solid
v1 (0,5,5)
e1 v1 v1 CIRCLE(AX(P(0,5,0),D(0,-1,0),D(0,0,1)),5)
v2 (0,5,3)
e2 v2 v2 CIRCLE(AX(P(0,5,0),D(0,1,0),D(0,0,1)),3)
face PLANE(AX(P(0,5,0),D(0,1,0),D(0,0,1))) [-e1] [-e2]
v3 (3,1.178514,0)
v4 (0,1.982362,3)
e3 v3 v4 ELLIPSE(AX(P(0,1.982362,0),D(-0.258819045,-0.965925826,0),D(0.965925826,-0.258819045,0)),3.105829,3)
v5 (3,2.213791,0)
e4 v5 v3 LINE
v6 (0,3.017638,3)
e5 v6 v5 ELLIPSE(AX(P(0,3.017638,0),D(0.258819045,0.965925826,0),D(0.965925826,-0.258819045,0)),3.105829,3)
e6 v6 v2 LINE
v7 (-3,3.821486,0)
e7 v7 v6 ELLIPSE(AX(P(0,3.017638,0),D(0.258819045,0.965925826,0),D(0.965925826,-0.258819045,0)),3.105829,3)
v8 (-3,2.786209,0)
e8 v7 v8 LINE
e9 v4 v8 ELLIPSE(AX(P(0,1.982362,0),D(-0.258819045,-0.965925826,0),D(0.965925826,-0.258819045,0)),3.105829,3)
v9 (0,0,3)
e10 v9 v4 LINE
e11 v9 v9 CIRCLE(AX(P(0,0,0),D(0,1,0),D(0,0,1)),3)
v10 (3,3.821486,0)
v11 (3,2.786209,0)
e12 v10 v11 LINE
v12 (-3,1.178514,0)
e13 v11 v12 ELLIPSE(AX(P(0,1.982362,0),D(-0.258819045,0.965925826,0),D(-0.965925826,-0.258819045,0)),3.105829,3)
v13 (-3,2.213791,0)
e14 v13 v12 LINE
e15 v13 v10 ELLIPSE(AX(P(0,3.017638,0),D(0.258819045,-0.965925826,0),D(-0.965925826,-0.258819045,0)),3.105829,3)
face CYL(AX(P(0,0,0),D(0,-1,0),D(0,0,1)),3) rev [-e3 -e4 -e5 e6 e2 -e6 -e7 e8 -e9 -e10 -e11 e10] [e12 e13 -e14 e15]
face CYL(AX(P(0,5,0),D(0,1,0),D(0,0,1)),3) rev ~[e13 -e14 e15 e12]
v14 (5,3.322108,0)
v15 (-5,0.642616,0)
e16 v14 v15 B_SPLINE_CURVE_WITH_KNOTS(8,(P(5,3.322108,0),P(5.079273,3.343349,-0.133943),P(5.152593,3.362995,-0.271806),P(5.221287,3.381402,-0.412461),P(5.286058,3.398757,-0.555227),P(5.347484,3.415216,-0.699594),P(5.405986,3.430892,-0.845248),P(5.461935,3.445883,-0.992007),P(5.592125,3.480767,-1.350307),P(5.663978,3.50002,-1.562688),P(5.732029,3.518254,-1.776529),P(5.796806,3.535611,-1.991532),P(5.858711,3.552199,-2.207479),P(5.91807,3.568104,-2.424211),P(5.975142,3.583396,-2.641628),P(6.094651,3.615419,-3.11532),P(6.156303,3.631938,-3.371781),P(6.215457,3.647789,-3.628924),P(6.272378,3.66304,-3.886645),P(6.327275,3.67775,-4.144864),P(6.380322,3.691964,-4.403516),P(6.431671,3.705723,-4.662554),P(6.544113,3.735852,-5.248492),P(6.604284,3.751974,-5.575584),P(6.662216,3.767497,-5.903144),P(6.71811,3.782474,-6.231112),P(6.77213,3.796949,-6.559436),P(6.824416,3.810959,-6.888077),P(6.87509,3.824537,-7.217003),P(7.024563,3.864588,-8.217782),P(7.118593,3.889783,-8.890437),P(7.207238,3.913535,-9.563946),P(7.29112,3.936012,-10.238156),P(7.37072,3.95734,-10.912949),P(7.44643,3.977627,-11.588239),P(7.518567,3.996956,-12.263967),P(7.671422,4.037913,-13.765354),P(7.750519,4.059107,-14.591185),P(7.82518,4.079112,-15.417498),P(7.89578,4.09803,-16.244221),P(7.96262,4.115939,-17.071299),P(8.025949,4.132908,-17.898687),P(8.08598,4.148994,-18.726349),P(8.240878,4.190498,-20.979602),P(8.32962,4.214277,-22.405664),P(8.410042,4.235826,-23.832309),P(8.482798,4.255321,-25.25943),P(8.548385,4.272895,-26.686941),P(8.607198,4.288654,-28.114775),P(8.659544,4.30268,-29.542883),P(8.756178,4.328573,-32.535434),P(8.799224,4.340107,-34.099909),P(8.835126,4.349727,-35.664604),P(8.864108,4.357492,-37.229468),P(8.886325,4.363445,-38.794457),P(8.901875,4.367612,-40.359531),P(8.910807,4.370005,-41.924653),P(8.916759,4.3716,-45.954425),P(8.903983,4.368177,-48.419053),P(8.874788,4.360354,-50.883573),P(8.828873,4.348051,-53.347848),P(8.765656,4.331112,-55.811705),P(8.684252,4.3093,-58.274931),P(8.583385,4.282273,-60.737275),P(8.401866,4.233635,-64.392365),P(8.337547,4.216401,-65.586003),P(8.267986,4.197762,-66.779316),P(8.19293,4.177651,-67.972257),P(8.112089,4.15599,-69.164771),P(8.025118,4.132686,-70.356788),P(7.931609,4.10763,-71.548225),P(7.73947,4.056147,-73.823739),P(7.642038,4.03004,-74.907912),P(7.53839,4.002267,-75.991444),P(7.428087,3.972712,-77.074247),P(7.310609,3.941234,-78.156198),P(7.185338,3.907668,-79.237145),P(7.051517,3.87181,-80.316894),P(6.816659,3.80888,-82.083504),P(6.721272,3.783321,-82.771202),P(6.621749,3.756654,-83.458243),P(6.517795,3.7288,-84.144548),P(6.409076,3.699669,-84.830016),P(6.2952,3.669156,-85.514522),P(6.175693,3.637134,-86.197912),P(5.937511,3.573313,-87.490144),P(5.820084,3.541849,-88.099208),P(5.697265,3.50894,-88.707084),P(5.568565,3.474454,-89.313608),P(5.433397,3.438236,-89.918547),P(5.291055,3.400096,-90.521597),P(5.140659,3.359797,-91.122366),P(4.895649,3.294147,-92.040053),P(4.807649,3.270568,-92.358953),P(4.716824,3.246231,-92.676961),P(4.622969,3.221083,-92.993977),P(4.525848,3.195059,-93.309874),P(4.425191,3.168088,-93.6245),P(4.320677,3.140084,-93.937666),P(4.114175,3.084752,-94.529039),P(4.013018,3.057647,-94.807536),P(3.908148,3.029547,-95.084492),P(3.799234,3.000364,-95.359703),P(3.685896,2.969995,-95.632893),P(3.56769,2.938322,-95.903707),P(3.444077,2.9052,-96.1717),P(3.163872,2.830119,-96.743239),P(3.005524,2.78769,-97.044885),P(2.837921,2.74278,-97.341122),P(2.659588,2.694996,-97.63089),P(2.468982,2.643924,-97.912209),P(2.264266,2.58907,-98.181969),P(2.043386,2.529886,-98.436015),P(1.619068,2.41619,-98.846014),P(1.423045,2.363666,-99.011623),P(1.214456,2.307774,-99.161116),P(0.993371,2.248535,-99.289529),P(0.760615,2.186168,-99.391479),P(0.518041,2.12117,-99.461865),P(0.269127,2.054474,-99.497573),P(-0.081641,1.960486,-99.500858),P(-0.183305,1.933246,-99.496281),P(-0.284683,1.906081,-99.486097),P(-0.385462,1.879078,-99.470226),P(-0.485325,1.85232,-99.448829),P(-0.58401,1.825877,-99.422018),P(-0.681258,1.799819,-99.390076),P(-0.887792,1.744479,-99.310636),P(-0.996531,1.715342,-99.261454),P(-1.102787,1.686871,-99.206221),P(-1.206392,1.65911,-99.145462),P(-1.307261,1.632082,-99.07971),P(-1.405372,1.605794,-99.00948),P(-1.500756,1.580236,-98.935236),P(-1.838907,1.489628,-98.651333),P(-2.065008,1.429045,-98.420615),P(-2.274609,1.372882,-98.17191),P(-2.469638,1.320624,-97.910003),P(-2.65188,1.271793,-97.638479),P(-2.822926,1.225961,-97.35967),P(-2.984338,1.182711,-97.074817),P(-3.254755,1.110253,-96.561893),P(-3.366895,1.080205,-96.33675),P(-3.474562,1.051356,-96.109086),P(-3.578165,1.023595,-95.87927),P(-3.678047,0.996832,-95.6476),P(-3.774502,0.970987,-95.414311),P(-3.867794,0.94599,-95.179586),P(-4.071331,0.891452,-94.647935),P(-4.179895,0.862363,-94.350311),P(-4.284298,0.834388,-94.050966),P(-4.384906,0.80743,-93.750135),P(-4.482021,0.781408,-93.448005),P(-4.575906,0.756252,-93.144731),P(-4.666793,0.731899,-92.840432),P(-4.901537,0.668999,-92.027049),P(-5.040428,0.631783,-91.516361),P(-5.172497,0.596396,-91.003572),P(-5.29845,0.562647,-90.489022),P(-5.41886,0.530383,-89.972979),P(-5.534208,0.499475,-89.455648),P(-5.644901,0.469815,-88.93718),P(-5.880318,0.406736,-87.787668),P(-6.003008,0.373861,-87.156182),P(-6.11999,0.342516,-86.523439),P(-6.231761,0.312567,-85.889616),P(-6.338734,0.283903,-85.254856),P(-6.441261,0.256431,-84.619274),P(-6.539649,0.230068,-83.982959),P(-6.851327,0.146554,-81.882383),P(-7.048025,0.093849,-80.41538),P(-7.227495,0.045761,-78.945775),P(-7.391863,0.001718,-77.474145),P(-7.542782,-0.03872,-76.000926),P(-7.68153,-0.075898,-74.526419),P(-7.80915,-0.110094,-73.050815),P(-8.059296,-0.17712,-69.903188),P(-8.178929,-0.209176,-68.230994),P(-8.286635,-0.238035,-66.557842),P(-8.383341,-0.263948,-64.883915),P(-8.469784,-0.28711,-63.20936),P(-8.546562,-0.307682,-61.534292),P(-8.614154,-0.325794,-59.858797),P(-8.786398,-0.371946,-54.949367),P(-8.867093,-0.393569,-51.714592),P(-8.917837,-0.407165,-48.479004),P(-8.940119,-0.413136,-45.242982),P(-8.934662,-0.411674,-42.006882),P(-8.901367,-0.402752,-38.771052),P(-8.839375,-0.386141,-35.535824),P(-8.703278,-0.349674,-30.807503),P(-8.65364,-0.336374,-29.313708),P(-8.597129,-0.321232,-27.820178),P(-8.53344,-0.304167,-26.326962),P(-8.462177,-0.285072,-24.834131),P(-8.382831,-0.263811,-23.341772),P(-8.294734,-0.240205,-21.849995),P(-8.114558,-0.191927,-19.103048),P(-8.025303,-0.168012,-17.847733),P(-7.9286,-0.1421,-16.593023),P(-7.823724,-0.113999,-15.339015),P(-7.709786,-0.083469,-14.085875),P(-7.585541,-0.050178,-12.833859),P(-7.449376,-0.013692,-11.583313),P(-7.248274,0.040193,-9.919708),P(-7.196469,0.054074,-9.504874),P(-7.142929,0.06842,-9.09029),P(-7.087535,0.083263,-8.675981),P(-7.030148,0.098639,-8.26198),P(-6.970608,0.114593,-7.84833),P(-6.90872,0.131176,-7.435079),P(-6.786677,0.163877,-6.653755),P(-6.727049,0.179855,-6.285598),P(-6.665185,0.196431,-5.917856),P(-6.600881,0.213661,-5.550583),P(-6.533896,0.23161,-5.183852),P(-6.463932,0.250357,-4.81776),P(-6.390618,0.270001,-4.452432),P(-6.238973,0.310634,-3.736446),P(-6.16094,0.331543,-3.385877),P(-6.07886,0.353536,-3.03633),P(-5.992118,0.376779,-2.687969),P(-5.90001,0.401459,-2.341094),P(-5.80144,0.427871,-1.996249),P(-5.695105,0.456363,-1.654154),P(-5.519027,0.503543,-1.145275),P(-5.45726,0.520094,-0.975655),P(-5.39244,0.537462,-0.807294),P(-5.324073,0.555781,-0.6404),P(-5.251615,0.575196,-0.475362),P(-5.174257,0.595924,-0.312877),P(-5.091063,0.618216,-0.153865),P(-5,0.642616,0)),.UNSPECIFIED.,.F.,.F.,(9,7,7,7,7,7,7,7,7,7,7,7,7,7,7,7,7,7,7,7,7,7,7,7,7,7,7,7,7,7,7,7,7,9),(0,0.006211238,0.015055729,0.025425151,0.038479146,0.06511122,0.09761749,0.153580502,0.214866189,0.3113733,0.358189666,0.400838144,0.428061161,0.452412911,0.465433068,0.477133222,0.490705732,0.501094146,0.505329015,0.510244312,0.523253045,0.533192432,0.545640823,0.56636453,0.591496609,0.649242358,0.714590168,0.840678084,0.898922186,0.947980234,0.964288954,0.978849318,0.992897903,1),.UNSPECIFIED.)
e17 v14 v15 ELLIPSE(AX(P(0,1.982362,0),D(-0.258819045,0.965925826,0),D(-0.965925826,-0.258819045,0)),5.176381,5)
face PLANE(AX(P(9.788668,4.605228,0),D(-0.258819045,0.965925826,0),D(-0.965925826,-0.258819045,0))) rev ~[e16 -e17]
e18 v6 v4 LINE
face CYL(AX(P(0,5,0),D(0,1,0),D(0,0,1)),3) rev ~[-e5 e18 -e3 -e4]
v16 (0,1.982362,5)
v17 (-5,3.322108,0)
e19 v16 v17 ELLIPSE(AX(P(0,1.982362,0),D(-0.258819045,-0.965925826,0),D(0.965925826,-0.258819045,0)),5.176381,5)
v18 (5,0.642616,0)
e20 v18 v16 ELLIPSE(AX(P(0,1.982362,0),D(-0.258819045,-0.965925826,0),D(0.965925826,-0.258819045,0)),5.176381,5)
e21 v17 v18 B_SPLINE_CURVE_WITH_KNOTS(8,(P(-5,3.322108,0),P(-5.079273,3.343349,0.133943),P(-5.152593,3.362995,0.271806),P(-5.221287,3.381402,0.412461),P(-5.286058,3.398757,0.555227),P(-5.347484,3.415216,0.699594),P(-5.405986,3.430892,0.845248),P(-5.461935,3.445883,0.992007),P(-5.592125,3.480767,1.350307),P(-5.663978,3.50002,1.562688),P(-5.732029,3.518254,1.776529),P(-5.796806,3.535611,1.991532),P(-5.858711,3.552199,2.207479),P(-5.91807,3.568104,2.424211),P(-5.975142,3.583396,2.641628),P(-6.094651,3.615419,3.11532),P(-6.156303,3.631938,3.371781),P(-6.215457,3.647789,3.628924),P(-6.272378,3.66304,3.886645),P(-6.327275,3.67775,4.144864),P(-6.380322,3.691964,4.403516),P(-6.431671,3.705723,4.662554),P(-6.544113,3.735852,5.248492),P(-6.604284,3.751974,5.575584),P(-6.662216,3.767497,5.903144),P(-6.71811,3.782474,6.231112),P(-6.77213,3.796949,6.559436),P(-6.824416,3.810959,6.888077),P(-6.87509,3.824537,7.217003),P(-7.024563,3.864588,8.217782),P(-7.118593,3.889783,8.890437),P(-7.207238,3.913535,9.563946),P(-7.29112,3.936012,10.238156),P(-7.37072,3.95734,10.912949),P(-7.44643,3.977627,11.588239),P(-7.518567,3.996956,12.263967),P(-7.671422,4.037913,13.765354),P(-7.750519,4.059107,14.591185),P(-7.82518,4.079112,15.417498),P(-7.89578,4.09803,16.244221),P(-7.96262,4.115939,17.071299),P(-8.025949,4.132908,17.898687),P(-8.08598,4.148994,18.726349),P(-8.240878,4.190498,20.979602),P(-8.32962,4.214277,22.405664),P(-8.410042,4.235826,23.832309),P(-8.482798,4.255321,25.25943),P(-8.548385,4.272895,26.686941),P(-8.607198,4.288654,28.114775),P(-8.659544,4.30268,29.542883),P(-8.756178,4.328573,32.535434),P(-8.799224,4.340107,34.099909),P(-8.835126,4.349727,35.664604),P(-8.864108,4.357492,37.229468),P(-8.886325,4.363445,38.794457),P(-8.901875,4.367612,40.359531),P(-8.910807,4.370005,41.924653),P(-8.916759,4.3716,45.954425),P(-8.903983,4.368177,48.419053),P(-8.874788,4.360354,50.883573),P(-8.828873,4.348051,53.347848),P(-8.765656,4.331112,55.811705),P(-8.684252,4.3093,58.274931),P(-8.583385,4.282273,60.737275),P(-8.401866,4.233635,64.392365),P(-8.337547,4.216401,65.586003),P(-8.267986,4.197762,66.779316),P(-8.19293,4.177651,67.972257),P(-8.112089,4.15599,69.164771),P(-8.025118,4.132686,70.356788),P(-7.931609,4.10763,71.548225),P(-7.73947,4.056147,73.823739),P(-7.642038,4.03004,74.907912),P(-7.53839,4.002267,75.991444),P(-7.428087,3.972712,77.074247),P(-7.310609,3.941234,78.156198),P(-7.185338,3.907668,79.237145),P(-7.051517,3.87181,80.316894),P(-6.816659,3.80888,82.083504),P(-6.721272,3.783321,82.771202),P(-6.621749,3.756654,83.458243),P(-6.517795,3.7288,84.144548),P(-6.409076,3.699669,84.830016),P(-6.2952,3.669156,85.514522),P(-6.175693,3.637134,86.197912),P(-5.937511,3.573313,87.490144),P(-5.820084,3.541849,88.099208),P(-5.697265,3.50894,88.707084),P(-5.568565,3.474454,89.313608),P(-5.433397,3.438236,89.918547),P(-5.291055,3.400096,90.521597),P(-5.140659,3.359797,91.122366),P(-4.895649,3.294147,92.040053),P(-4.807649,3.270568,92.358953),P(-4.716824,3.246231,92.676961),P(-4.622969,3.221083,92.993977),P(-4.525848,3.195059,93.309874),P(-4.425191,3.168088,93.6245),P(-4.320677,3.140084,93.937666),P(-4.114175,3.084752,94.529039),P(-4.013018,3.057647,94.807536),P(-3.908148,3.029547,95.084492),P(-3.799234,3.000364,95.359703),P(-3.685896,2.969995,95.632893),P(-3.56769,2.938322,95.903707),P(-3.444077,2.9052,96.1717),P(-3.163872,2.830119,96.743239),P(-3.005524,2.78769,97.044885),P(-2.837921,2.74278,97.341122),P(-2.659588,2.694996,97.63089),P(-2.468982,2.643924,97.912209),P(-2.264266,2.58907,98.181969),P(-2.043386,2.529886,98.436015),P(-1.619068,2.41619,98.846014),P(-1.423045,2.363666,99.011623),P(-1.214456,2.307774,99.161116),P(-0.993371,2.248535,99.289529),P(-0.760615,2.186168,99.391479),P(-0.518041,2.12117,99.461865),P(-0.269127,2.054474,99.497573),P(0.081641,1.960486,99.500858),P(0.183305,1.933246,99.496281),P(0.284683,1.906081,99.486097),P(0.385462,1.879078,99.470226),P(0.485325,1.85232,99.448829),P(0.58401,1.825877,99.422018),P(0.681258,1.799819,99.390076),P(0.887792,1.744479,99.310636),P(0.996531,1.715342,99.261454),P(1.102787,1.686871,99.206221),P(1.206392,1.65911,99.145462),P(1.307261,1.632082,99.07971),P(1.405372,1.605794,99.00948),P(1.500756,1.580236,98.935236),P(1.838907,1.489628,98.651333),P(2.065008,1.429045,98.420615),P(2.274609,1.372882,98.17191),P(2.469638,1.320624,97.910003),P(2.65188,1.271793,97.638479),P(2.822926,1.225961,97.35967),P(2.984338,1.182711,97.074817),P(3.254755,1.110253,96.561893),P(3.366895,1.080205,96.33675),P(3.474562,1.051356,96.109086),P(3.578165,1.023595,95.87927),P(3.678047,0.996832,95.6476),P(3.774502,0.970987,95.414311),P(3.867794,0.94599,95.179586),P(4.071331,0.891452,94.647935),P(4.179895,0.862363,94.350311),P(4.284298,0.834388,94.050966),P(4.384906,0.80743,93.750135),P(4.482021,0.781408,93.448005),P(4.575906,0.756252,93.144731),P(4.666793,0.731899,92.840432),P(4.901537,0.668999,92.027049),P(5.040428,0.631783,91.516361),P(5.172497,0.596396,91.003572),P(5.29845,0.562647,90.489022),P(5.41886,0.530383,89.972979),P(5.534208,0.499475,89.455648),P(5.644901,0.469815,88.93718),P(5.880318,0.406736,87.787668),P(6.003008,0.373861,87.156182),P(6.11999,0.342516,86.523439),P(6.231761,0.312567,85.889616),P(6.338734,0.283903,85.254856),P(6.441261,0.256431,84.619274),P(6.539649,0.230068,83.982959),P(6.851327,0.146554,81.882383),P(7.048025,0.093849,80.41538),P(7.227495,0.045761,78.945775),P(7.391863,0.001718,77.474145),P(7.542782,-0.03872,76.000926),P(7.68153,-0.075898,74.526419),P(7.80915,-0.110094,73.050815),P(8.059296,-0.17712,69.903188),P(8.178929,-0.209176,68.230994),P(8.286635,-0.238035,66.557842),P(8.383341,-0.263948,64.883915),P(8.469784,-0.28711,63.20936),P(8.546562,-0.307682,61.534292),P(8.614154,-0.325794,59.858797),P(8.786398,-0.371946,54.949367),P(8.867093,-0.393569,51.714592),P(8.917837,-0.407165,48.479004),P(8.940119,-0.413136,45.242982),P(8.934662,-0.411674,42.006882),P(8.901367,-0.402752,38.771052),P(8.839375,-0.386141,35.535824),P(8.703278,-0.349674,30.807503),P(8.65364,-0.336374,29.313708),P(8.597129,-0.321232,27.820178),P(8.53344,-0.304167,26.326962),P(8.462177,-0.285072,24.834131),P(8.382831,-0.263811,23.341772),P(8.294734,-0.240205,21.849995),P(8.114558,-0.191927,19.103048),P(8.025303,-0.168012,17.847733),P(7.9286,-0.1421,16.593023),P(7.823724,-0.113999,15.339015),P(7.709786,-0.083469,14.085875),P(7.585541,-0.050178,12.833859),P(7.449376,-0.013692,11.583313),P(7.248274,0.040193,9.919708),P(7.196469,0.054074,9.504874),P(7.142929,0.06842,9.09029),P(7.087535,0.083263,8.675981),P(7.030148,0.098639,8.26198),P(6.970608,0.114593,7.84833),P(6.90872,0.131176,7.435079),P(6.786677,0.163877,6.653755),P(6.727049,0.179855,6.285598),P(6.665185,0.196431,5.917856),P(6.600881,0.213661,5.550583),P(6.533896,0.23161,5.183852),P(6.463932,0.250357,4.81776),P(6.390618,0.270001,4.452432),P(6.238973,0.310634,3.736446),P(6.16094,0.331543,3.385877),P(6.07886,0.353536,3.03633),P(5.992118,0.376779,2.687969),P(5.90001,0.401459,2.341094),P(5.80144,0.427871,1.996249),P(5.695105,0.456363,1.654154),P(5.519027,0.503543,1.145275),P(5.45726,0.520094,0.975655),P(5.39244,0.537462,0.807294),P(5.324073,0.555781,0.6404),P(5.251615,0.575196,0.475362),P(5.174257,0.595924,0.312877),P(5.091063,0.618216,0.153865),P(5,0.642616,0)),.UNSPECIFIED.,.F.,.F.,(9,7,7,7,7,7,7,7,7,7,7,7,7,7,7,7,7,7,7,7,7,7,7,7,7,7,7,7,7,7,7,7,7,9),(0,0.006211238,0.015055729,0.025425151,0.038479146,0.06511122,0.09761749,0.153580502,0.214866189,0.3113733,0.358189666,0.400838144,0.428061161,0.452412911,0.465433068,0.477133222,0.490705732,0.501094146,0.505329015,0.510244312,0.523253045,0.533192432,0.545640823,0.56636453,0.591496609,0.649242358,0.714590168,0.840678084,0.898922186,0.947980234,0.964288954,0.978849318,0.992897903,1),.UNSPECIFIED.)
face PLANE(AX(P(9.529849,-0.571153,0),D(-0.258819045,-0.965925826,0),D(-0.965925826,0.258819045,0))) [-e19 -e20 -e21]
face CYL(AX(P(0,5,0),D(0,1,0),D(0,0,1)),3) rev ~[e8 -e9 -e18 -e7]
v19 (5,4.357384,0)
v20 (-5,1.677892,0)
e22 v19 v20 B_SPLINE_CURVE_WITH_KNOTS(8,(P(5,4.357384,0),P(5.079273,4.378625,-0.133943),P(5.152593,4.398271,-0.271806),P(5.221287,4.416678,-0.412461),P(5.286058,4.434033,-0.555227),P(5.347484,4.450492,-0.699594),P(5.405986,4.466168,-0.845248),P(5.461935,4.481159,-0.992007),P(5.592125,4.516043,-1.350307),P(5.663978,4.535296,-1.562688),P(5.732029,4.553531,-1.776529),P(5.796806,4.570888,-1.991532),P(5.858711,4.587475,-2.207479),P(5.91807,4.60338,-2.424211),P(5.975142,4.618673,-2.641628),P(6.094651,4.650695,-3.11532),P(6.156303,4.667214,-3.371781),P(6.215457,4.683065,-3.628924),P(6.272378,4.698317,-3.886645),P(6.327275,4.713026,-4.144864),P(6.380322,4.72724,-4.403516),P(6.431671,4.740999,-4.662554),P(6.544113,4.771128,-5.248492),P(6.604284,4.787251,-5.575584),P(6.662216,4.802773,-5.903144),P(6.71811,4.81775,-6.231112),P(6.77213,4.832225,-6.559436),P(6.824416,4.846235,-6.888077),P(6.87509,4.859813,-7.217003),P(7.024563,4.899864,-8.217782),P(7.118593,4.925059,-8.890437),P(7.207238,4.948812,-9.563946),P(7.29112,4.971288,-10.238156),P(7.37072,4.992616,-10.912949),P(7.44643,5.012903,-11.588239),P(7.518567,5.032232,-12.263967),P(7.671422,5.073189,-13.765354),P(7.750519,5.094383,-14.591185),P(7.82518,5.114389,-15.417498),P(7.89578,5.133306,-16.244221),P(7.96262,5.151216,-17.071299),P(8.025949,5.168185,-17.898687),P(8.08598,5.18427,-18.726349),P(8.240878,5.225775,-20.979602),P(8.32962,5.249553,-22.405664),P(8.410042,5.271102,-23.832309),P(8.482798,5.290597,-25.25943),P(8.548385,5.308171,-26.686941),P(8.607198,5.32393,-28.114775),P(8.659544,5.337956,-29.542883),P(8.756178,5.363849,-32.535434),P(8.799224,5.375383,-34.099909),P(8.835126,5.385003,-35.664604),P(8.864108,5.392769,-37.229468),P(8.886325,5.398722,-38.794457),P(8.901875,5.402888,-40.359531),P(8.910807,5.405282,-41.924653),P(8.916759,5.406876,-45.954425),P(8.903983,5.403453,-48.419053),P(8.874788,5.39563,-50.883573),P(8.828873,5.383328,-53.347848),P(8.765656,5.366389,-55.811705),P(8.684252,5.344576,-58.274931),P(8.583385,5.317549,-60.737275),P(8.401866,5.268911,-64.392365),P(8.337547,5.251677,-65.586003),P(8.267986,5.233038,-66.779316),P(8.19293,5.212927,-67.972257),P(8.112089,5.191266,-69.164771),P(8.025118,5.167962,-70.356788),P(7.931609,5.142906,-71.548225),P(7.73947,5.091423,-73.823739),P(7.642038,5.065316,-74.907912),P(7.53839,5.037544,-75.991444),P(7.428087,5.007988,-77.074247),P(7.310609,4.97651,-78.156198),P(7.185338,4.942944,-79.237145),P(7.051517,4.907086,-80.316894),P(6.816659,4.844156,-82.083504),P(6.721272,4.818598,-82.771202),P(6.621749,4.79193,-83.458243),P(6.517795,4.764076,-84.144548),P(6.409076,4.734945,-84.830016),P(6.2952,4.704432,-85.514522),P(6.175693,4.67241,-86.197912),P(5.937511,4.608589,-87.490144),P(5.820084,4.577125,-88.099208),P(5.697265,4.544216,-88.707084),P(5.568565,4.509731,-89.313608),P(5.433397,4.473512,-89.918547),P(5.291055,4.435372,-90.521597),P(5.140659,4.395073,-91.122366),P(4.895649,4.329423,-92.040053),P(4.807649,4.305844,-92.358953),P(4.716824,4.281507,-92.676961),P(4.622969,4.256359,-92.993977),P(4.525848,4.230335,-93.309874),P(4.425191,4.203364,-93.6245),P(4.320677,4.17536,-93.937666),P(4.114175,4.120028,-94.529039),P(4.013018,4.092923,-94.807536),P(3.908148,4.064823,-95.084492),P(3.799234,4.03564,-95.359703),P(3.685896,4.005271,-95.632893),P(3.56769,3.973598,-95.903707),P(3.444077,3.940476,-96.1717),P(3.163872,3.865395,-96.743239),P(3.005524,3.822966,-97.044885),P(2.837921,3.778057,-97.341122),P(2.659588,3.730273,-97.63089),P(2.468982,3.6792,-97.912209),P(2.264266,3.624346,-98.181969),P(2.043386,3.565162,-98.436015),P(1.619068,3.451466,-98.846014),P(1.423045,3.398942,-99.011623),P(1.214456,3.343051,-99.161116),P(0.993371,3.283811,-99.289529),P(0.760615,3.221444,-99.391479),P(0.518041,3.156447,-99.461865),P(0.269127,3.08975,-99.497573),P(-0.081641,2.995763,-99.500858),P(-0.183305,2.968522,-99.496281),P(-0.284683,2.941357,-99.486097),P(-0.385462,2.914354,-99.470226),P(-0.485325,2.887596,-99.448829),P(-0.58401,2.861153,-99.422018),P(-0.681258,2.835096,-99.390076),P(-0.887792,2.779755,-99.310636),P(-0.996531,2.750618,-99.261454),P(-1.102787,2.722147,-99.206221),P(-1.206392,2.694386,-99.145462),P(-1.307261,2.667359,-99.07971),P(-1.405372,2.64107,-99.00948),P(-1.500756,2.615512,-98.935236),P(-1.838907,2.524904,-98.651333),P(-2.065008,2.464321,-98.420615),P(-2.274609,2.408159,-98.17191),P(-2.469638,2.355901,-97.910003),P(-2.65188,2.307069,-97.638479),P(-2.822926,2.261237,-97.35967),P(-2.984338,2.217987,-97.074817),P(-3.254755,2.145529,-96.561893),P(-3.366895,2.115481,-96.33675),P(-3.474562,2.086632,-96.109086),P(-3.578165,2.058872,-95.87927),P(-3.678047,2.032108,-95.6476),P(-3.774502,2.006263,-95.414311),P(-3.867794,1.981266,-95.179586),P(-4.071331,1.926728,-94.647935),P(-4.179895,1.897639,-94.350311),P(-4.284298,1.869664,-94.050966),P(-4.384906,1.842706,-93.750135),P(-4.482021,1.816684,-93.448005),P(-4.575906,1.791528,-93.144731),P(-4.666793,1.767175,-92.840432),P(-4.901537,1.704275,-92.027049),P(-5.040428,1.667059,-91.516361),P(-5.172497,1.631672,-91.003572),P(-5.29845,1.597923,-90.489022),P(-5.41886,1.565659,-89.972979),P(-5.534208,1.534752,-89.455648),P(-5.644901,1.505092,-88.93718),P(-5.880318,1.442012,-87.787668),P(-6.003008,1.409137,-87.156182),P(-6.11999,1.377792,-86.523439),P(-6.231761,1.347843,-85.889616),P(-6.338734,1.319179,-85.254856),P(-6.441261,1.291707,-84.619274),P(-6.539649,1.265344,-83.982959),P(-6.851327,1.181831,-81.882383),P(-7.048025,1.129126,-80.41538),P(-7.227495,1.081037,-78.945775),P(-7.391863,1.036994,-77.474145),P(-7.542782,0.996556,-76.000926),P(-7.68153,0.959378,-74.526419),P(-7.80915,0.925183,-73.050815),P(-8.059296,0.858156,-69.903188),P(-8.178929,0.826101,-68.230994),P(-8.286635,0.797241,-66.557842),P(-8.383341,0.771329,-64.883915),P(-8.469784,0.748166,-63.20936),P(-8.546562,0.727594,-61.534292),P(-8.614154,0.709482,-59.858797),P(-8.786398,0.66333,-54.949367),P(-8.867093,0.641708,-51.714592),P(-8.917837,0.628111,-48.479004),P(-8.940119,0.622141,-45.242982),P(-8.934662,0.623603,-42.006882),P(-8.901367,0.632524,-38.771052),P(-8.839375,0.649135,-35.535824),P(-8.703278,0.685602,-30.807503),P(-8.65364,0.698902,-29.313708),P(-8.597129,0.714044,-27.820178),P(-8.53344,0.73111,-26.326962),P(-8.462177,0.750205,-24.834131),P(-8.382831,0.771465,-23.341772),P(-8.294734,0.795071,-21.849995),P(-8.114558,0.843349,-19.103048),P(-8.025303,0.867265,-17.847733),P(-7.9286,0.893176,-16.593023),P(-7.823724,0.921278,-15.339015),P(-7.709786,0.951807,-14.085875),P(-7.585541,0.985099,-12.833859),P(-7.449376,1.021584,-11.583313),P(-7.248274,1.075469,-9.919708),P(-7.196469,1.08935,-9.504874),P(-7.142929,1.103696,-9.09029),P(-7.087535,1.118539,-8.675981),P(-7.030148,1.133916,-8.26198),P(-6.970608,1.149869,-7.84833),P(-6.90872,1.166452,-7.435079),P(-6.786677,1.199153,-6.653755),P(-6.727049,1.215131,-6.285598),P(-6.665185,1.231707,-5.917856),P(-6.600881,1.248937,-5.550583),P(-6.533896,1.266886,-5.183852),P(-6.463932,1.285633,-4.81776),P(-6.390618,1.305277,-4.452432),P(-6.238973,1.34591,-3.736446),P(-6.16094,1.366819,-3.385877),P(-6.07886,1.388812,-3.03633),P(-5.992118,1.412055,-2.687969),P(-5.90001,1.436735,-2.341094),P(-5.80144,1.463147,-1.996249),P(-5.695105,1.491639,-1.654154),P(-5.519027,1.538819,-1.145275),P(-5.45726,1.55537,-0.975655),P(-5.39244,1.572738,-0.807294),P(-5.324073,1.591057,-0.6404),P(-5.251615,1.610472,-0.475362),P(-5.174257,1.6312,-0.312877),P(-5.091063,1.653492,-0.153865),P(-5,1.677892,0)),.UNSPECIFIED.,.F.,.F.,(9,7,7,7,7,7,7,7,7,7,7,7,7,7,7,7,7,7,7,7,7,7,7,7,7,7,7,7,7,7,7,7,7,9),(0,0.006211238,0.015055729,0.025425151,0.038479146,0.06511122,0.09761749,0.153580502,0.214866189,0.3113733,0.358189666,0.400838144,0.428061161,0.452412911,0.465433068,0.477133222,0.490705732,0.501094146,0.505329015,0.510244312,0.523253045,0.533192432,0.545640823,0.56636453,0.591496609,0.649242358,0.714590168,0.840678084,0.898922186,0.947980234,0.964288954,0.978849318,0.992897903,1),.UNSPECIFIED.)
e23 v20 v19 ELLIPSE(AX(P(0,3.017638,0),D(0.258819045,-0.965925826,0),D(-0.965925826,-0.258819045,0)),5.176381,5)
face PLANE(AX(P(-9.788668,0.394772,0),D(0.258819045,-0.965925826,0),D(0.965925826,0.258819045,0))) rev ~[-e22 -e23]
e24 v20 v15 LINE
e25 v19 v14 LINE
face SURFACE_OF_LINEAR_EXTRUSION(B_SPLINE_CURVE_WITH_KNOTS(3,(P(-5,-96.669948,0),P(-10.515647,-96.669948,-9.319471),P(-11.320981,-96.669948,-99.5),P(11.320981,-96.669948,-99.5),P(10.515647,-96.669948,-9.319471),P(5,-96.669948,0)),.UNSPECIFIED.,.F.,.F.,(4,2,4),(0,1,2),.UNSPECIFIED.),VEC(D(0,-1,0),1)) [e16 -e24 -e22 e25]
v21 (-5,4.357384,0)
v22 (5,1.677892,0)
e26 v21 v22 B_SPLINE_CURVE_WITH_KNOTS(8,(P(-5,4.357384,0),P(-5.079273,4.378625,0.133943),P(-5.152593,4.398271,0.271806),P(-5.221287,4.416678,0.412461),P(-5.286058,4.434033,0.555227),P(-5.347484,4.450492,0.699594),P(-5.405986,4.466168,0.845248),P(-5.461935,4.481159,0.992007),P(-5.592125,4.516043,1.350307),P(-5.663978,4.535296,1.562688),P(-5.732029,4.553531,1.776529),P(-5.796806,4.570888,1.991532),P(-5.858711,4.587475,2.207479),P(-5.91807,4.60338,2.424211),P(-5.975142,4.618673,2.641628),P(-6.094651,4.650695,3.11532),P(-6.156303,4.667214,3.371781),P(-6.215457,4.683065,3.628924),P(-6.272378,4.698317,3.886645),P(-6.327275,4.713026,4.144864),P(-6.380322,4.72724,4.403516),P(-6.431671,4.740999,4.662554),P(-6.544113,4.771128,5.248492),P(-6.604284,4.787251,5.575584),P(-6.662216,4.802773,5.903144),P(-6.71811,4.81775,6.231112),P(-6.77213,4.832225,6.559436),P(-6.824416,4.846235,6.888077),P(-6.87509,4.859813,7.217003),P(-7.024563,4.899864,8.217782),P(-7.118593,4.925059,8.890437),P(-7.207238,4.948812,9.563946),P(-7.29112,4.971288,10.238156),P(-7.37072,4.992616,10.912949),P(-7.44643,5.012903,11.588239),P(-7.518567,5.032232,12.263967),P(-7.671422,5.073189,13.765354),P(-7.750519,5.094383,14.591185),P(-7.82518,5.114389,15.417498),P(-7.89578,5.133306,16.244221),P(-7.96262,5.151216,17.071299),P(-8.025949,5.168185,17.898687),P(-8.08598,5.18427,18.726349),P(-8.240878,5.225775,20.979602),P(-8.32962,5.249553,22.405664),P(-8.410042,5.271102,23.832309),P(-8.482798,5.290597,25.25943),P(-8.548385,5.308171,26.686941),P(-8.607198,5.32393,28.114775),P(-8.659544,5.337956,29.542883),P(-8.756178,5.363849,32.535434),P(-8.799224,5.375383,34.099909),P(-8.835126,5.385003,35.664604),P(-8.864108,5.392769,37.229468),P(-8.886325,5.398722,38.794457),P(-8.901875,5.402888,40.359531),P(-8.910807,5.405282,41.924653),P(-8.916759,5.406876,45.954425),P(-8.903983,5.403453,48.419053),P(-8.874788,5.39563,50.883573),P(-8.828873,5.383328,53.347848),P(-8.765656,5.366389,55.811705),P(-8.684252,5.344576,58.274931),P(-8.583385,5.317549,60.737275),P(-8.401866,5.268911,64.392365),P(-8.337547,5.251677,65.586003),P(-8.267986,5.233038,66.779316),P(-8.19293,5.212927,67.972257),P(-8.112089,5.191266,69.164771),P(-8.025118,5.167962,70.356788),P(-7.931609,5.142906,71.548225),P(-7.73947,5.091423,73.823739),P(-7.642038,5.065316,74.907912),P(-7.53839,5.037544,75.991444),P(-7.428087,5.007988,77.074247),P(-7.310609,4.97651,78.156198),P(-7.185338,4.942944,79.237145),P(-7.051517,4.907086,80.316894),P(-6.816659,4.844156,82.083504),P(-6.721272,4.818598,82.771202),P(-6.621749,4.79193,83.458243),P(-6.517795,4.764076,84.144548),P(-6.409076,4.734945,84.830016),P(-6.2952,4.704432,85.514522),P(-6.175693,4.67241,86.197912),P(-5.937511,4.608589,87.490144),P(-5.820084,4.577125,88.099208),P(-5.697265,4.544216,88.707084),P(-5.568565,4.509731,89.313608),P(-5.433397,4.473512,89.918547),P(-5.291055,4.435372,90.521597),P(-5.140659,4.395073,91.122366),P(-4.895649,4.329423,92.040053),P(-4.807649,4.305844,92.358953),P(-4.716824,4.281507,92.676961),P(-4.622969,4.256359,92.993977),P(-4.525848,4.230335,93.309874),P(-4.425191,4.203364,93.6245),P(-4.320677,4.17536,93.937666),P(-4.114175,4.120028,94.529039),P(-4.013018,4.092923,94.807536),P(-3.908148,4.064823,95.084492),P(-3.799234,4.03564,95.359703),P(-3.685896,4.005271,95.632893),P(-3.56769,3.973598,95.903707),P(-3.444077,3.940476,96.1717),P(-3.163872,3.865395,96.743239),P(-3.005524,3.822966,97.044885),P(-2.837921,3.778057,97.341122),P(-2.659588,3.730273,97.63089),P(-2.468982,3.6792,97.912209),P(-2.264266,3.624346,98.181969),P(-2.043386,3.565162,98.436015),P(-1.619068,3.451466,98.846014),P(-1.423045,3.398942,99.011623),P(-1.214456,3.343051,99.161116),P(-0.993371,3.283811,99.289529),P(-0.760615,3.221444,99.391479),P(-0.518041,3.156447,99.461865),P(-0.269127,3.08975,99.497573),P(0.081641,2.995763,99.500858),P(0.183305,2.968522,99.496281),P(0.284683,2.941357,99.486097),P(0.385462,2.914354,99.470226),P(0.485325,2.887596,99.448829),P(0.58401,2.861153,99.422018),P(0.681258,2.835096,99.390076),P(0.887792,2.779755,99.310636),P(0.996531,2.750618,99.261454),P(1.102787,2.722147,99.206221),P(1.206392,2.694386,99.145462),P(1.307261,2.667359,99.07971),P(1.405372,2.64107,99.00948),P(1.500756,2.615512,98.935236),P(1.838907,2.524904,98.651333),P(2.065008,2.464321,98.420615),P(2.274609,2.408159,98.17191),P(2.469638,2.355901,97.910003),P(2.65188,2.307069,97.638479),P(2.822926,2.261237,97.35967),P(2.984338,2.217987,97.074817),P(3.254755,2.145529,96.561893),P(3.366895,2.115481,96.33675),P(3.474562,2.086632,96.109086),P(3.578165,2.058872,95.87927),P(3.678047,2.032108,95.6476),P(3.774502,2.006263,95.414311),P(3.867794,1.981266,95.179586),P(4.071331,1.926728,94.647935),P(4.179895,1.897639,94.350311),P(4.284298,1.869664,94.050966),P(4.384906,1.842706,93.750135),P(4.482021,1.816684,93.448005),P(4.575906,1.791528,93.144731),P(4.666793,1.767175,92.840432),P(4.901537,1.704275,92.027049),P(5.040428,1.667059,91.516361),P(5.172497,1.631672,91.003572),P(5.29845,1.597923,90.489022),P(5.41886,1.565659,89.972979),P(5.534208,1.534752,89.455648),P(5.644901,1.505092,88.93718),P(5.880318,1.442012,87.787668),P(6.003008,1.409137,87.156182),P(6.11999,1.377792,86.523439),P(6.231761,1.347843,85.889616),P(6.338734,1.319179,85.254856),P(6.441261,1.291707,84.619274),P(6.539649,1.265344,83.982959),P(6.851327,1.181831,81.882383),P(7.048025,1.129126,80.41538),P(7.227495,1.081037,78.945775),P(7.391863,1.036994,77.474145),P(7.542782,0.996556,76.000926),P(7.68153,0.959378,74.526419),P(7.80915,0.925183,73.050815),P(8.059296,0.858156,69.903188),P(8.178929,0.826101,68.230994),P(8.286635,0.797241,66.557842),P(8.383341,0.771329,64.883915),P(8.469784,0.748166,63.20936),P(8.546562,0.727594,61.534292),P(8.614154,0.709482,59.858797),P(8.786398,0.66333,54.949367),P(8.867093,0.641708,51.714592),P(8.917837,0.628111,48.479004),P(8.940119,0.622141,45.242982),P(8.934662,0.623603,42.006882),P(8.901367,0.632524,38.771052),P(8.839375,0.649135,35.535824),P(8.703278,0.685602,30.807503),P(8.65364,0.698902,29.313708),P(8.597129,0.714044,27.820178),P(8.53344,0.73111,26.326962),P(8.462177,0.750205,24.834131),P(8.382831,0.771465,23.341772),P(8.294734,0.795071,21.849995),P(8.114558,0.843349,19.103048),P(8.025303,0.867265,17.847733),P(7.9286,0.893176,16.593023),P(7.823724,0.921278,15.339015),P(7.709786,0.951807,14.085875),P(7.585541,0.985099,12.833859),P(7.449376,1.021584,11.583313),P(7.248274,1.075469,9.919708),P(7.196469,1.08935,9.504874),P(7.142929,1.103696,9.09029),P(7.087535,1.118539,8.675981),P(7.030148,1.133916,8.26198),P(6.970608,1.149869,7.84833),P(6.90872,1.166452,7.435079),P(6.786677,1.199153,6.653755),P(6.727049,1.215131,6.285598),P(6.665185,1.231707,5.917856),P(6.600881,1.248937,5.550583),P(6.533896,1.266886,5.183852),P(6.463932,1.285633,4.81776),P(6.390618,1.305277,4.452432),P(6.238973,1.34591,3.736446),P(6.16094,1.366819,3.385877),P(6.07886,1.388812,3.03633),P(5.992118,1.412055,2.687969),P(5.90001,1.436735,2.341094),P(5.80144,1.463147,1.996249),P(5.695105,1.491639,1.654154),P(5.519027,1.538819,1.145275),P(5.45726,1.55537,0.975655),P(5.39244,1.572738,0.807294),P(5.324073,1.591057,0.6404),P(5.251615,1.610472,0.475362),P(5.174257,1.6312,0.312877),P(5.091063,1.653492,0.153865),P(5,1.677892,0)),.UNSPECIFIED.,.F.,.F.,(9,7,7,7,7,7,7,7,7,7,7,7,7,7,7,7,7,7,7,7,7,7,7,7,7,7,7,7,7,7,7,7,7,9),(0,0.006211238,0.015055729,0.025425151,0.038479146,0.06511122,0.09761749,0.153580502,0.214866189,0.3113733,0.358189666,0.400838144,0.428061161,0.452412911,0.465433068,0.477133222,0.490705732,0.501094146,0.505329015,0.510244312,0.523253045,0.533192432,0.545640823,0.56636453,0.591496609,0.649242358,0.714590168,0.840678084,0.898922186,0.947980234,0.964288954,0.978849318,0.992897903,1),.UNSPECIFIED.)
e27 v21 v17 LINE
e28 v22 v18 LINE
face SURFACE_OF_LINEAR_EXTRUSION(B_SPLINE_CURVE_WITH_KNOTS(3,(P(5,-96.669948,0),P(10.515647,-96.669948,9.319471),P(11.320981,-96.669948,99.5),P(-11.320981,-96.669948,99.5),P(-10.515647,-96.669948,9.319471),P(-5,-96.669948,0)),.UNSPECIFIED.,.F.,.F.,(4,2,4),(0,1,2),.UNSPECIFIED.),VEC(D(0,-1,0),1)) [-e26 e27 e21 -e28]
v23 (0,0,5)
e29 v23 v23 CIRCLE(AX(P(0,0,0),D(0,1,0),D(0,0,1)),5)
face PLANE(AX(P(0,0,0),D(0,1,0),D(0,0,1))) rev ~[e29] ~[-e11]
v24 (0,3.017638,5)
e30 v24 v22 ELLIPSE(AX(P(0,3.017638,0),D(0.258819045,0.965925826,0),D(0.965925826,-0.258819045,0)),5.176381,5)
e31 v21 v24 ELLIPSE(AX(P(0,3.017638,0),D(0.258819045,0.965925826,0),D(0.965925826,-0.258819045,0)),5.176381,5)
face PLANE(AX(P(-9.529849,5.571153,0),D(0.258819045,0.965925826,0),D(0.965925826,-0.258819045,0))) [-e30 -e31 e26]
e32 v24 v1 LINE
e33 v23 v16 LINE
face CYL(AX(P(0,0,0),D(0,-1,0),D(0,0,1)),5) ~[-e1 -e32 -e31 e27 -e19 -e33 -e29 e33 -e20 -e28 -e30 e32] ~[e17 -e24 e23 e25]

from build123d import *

# Parameters (mm, degrees)
SKETCH_1_R               = 5
SKETCH_1_R_2             = 3
EXTRUDE_1_DEPTH          = 5
EXTRUDE_7_DEPTH          = 100
EXTRUDE_8_DEPTH          = 100
SKETCH_8_R               = 3
CUT_EXTRUDE_1_DEPTH      = 101.669947854
CUT_EXTRUDE_2_DEPTH      = 101.669947854
CUT_EXTRUDE_2_DEPTH_BACK = 101.669947854
SKETCH_9_OUTSIDE_W       = 62.542
SKETCH_9_OUTSIDE_H       = 242.224


with BuildPart() as part:
    # 草圖1 → 填料-伸長1 (new body)
    with BuildSketch(Plane(origin=(0, 0, 0), x_dir=(1, 0, 0), z_dir=(0, 1, 0))):
        with Locations(Location((0, 0, 0), (0, 0, 270))):
            Circle(SKETCH_1_R)
        with Locations(Location((0, 0, 0), (0, 0, 270))):
            Circle(SKETCH_1_R_2, mode=Mode.SUBTRACT)
    extrude(amount=EXTRUDE_1_DEPTH)

    # 草圖6 → 填料-伸長7 (add)
    with BuildSketch(Plane.XY):
        with BuildLine():
            Line((9.52984874, -0.571153364), (-9.788667785, 4.605227538))
            ThreePointArc((-9.788667785, 4.605227538), (-10.142221176, 5.217599974), (-9.52984874, 5.571153364))
            Line((-9.52984874, 5.571153364), (9.788667785, 0.394772462))
            ThreePointArc((9.788667785, 0.394772462), (10.142221176, -0.217599974), (9.52984874, -0.571153364))
        make_face()
    extrude(amount=EXTRUDE_7_DEPTH)

    # 草圖7 → 填料-伸長8 (add)
    with BuildSketch(Plane.XY):
        with BuildLine():
            Line((-9.788667785, 0.394772462), (9.52984874, 5.571153364))
            ThreePointArc((9.52984874, 5.571153364), (10.142221176, 5.217599974), (9.788667785, 4.605227538))
            Line((9.788667785, 4.605227538), (-9.52984874, -0.571153364))
            ThreePointArc((-9.52984874, -0.571153364), (-10.142221176, -0.217599974), (-9.788667785, 0.394772462))
        make_face()
    extrude(amount=-EXTRUDE_8_DEPTH)

    # 草圖8 → 除料-伸長1 (cut, through all)
    with BuildSketch(Plane(origin=(0, 5, 0), x_dir=(1, 0, 0), z_dir=(0, 1, 0))):
        with Locations(Location((0, 0, 0), (0, 0, 270))):
            Circle(SKETCH_8_R)
    extrude(amount=-CUT_EXTRUDE_1_DEPTH, mode=Mode.SUBTRACT)

    # 草圖9 outside → 除料-伸長2 (cut, two sides: drawn at the far end of the back side and taken through both)
    with BuildSketch(Plane(origin=(0, 5, 0), x_dir=(1, 0, 0), z_dir=(0, 1, 0)).offset(-CUT_EXTRUDE_2_DEPTH_BACK)):
        Rectangle(SKETCH_9_OUTSIDE_W, SKETCH_9_OUTSIDE_H)
        with BuildLine():
            add(Edge.make_bspline(
                [(5, 0), (10.515647221, 9.319471188), (11.320981167, 99.5), (0, 99.5)],
                knots=[0, 0, 0, 0, 1, 1, 1, 1], degree=3))
            add(Edge.make_bspline(
                [(-5, 0), (-10.515647221, 9.319471188), (-11.320981167, 99.5), (0, 99.5)],
                knots=[0, 0, 0, 0, 1, 1, 1, 1], degree=3))
            add(Edge.make_bspline(
                [(-5, 0), (-10.515647221, -9.319471188), (-11.320981167, -99.5), (0, -99.5)],
                knots=[0, 0, 0, 0, 1, 1, 1, 1], degree=3))
            add(Edge.make_bspline(
                [(5, 0), (10.515647221, -9.319471188), (11.320981167, -99.5), (0, -99.5)],
                knots=[0, 0, 0, 0, 1, 1, 1, 1], degree=3))
        make_face(mode=Mode.SUBTRACT)
    extrude(amount=CUT_EXTRUDE_2_DEPTH + CUT_EXTRUDE_2_DEPTH_BACK, mode=Mode.SUBTRACT)


solid = part.part
